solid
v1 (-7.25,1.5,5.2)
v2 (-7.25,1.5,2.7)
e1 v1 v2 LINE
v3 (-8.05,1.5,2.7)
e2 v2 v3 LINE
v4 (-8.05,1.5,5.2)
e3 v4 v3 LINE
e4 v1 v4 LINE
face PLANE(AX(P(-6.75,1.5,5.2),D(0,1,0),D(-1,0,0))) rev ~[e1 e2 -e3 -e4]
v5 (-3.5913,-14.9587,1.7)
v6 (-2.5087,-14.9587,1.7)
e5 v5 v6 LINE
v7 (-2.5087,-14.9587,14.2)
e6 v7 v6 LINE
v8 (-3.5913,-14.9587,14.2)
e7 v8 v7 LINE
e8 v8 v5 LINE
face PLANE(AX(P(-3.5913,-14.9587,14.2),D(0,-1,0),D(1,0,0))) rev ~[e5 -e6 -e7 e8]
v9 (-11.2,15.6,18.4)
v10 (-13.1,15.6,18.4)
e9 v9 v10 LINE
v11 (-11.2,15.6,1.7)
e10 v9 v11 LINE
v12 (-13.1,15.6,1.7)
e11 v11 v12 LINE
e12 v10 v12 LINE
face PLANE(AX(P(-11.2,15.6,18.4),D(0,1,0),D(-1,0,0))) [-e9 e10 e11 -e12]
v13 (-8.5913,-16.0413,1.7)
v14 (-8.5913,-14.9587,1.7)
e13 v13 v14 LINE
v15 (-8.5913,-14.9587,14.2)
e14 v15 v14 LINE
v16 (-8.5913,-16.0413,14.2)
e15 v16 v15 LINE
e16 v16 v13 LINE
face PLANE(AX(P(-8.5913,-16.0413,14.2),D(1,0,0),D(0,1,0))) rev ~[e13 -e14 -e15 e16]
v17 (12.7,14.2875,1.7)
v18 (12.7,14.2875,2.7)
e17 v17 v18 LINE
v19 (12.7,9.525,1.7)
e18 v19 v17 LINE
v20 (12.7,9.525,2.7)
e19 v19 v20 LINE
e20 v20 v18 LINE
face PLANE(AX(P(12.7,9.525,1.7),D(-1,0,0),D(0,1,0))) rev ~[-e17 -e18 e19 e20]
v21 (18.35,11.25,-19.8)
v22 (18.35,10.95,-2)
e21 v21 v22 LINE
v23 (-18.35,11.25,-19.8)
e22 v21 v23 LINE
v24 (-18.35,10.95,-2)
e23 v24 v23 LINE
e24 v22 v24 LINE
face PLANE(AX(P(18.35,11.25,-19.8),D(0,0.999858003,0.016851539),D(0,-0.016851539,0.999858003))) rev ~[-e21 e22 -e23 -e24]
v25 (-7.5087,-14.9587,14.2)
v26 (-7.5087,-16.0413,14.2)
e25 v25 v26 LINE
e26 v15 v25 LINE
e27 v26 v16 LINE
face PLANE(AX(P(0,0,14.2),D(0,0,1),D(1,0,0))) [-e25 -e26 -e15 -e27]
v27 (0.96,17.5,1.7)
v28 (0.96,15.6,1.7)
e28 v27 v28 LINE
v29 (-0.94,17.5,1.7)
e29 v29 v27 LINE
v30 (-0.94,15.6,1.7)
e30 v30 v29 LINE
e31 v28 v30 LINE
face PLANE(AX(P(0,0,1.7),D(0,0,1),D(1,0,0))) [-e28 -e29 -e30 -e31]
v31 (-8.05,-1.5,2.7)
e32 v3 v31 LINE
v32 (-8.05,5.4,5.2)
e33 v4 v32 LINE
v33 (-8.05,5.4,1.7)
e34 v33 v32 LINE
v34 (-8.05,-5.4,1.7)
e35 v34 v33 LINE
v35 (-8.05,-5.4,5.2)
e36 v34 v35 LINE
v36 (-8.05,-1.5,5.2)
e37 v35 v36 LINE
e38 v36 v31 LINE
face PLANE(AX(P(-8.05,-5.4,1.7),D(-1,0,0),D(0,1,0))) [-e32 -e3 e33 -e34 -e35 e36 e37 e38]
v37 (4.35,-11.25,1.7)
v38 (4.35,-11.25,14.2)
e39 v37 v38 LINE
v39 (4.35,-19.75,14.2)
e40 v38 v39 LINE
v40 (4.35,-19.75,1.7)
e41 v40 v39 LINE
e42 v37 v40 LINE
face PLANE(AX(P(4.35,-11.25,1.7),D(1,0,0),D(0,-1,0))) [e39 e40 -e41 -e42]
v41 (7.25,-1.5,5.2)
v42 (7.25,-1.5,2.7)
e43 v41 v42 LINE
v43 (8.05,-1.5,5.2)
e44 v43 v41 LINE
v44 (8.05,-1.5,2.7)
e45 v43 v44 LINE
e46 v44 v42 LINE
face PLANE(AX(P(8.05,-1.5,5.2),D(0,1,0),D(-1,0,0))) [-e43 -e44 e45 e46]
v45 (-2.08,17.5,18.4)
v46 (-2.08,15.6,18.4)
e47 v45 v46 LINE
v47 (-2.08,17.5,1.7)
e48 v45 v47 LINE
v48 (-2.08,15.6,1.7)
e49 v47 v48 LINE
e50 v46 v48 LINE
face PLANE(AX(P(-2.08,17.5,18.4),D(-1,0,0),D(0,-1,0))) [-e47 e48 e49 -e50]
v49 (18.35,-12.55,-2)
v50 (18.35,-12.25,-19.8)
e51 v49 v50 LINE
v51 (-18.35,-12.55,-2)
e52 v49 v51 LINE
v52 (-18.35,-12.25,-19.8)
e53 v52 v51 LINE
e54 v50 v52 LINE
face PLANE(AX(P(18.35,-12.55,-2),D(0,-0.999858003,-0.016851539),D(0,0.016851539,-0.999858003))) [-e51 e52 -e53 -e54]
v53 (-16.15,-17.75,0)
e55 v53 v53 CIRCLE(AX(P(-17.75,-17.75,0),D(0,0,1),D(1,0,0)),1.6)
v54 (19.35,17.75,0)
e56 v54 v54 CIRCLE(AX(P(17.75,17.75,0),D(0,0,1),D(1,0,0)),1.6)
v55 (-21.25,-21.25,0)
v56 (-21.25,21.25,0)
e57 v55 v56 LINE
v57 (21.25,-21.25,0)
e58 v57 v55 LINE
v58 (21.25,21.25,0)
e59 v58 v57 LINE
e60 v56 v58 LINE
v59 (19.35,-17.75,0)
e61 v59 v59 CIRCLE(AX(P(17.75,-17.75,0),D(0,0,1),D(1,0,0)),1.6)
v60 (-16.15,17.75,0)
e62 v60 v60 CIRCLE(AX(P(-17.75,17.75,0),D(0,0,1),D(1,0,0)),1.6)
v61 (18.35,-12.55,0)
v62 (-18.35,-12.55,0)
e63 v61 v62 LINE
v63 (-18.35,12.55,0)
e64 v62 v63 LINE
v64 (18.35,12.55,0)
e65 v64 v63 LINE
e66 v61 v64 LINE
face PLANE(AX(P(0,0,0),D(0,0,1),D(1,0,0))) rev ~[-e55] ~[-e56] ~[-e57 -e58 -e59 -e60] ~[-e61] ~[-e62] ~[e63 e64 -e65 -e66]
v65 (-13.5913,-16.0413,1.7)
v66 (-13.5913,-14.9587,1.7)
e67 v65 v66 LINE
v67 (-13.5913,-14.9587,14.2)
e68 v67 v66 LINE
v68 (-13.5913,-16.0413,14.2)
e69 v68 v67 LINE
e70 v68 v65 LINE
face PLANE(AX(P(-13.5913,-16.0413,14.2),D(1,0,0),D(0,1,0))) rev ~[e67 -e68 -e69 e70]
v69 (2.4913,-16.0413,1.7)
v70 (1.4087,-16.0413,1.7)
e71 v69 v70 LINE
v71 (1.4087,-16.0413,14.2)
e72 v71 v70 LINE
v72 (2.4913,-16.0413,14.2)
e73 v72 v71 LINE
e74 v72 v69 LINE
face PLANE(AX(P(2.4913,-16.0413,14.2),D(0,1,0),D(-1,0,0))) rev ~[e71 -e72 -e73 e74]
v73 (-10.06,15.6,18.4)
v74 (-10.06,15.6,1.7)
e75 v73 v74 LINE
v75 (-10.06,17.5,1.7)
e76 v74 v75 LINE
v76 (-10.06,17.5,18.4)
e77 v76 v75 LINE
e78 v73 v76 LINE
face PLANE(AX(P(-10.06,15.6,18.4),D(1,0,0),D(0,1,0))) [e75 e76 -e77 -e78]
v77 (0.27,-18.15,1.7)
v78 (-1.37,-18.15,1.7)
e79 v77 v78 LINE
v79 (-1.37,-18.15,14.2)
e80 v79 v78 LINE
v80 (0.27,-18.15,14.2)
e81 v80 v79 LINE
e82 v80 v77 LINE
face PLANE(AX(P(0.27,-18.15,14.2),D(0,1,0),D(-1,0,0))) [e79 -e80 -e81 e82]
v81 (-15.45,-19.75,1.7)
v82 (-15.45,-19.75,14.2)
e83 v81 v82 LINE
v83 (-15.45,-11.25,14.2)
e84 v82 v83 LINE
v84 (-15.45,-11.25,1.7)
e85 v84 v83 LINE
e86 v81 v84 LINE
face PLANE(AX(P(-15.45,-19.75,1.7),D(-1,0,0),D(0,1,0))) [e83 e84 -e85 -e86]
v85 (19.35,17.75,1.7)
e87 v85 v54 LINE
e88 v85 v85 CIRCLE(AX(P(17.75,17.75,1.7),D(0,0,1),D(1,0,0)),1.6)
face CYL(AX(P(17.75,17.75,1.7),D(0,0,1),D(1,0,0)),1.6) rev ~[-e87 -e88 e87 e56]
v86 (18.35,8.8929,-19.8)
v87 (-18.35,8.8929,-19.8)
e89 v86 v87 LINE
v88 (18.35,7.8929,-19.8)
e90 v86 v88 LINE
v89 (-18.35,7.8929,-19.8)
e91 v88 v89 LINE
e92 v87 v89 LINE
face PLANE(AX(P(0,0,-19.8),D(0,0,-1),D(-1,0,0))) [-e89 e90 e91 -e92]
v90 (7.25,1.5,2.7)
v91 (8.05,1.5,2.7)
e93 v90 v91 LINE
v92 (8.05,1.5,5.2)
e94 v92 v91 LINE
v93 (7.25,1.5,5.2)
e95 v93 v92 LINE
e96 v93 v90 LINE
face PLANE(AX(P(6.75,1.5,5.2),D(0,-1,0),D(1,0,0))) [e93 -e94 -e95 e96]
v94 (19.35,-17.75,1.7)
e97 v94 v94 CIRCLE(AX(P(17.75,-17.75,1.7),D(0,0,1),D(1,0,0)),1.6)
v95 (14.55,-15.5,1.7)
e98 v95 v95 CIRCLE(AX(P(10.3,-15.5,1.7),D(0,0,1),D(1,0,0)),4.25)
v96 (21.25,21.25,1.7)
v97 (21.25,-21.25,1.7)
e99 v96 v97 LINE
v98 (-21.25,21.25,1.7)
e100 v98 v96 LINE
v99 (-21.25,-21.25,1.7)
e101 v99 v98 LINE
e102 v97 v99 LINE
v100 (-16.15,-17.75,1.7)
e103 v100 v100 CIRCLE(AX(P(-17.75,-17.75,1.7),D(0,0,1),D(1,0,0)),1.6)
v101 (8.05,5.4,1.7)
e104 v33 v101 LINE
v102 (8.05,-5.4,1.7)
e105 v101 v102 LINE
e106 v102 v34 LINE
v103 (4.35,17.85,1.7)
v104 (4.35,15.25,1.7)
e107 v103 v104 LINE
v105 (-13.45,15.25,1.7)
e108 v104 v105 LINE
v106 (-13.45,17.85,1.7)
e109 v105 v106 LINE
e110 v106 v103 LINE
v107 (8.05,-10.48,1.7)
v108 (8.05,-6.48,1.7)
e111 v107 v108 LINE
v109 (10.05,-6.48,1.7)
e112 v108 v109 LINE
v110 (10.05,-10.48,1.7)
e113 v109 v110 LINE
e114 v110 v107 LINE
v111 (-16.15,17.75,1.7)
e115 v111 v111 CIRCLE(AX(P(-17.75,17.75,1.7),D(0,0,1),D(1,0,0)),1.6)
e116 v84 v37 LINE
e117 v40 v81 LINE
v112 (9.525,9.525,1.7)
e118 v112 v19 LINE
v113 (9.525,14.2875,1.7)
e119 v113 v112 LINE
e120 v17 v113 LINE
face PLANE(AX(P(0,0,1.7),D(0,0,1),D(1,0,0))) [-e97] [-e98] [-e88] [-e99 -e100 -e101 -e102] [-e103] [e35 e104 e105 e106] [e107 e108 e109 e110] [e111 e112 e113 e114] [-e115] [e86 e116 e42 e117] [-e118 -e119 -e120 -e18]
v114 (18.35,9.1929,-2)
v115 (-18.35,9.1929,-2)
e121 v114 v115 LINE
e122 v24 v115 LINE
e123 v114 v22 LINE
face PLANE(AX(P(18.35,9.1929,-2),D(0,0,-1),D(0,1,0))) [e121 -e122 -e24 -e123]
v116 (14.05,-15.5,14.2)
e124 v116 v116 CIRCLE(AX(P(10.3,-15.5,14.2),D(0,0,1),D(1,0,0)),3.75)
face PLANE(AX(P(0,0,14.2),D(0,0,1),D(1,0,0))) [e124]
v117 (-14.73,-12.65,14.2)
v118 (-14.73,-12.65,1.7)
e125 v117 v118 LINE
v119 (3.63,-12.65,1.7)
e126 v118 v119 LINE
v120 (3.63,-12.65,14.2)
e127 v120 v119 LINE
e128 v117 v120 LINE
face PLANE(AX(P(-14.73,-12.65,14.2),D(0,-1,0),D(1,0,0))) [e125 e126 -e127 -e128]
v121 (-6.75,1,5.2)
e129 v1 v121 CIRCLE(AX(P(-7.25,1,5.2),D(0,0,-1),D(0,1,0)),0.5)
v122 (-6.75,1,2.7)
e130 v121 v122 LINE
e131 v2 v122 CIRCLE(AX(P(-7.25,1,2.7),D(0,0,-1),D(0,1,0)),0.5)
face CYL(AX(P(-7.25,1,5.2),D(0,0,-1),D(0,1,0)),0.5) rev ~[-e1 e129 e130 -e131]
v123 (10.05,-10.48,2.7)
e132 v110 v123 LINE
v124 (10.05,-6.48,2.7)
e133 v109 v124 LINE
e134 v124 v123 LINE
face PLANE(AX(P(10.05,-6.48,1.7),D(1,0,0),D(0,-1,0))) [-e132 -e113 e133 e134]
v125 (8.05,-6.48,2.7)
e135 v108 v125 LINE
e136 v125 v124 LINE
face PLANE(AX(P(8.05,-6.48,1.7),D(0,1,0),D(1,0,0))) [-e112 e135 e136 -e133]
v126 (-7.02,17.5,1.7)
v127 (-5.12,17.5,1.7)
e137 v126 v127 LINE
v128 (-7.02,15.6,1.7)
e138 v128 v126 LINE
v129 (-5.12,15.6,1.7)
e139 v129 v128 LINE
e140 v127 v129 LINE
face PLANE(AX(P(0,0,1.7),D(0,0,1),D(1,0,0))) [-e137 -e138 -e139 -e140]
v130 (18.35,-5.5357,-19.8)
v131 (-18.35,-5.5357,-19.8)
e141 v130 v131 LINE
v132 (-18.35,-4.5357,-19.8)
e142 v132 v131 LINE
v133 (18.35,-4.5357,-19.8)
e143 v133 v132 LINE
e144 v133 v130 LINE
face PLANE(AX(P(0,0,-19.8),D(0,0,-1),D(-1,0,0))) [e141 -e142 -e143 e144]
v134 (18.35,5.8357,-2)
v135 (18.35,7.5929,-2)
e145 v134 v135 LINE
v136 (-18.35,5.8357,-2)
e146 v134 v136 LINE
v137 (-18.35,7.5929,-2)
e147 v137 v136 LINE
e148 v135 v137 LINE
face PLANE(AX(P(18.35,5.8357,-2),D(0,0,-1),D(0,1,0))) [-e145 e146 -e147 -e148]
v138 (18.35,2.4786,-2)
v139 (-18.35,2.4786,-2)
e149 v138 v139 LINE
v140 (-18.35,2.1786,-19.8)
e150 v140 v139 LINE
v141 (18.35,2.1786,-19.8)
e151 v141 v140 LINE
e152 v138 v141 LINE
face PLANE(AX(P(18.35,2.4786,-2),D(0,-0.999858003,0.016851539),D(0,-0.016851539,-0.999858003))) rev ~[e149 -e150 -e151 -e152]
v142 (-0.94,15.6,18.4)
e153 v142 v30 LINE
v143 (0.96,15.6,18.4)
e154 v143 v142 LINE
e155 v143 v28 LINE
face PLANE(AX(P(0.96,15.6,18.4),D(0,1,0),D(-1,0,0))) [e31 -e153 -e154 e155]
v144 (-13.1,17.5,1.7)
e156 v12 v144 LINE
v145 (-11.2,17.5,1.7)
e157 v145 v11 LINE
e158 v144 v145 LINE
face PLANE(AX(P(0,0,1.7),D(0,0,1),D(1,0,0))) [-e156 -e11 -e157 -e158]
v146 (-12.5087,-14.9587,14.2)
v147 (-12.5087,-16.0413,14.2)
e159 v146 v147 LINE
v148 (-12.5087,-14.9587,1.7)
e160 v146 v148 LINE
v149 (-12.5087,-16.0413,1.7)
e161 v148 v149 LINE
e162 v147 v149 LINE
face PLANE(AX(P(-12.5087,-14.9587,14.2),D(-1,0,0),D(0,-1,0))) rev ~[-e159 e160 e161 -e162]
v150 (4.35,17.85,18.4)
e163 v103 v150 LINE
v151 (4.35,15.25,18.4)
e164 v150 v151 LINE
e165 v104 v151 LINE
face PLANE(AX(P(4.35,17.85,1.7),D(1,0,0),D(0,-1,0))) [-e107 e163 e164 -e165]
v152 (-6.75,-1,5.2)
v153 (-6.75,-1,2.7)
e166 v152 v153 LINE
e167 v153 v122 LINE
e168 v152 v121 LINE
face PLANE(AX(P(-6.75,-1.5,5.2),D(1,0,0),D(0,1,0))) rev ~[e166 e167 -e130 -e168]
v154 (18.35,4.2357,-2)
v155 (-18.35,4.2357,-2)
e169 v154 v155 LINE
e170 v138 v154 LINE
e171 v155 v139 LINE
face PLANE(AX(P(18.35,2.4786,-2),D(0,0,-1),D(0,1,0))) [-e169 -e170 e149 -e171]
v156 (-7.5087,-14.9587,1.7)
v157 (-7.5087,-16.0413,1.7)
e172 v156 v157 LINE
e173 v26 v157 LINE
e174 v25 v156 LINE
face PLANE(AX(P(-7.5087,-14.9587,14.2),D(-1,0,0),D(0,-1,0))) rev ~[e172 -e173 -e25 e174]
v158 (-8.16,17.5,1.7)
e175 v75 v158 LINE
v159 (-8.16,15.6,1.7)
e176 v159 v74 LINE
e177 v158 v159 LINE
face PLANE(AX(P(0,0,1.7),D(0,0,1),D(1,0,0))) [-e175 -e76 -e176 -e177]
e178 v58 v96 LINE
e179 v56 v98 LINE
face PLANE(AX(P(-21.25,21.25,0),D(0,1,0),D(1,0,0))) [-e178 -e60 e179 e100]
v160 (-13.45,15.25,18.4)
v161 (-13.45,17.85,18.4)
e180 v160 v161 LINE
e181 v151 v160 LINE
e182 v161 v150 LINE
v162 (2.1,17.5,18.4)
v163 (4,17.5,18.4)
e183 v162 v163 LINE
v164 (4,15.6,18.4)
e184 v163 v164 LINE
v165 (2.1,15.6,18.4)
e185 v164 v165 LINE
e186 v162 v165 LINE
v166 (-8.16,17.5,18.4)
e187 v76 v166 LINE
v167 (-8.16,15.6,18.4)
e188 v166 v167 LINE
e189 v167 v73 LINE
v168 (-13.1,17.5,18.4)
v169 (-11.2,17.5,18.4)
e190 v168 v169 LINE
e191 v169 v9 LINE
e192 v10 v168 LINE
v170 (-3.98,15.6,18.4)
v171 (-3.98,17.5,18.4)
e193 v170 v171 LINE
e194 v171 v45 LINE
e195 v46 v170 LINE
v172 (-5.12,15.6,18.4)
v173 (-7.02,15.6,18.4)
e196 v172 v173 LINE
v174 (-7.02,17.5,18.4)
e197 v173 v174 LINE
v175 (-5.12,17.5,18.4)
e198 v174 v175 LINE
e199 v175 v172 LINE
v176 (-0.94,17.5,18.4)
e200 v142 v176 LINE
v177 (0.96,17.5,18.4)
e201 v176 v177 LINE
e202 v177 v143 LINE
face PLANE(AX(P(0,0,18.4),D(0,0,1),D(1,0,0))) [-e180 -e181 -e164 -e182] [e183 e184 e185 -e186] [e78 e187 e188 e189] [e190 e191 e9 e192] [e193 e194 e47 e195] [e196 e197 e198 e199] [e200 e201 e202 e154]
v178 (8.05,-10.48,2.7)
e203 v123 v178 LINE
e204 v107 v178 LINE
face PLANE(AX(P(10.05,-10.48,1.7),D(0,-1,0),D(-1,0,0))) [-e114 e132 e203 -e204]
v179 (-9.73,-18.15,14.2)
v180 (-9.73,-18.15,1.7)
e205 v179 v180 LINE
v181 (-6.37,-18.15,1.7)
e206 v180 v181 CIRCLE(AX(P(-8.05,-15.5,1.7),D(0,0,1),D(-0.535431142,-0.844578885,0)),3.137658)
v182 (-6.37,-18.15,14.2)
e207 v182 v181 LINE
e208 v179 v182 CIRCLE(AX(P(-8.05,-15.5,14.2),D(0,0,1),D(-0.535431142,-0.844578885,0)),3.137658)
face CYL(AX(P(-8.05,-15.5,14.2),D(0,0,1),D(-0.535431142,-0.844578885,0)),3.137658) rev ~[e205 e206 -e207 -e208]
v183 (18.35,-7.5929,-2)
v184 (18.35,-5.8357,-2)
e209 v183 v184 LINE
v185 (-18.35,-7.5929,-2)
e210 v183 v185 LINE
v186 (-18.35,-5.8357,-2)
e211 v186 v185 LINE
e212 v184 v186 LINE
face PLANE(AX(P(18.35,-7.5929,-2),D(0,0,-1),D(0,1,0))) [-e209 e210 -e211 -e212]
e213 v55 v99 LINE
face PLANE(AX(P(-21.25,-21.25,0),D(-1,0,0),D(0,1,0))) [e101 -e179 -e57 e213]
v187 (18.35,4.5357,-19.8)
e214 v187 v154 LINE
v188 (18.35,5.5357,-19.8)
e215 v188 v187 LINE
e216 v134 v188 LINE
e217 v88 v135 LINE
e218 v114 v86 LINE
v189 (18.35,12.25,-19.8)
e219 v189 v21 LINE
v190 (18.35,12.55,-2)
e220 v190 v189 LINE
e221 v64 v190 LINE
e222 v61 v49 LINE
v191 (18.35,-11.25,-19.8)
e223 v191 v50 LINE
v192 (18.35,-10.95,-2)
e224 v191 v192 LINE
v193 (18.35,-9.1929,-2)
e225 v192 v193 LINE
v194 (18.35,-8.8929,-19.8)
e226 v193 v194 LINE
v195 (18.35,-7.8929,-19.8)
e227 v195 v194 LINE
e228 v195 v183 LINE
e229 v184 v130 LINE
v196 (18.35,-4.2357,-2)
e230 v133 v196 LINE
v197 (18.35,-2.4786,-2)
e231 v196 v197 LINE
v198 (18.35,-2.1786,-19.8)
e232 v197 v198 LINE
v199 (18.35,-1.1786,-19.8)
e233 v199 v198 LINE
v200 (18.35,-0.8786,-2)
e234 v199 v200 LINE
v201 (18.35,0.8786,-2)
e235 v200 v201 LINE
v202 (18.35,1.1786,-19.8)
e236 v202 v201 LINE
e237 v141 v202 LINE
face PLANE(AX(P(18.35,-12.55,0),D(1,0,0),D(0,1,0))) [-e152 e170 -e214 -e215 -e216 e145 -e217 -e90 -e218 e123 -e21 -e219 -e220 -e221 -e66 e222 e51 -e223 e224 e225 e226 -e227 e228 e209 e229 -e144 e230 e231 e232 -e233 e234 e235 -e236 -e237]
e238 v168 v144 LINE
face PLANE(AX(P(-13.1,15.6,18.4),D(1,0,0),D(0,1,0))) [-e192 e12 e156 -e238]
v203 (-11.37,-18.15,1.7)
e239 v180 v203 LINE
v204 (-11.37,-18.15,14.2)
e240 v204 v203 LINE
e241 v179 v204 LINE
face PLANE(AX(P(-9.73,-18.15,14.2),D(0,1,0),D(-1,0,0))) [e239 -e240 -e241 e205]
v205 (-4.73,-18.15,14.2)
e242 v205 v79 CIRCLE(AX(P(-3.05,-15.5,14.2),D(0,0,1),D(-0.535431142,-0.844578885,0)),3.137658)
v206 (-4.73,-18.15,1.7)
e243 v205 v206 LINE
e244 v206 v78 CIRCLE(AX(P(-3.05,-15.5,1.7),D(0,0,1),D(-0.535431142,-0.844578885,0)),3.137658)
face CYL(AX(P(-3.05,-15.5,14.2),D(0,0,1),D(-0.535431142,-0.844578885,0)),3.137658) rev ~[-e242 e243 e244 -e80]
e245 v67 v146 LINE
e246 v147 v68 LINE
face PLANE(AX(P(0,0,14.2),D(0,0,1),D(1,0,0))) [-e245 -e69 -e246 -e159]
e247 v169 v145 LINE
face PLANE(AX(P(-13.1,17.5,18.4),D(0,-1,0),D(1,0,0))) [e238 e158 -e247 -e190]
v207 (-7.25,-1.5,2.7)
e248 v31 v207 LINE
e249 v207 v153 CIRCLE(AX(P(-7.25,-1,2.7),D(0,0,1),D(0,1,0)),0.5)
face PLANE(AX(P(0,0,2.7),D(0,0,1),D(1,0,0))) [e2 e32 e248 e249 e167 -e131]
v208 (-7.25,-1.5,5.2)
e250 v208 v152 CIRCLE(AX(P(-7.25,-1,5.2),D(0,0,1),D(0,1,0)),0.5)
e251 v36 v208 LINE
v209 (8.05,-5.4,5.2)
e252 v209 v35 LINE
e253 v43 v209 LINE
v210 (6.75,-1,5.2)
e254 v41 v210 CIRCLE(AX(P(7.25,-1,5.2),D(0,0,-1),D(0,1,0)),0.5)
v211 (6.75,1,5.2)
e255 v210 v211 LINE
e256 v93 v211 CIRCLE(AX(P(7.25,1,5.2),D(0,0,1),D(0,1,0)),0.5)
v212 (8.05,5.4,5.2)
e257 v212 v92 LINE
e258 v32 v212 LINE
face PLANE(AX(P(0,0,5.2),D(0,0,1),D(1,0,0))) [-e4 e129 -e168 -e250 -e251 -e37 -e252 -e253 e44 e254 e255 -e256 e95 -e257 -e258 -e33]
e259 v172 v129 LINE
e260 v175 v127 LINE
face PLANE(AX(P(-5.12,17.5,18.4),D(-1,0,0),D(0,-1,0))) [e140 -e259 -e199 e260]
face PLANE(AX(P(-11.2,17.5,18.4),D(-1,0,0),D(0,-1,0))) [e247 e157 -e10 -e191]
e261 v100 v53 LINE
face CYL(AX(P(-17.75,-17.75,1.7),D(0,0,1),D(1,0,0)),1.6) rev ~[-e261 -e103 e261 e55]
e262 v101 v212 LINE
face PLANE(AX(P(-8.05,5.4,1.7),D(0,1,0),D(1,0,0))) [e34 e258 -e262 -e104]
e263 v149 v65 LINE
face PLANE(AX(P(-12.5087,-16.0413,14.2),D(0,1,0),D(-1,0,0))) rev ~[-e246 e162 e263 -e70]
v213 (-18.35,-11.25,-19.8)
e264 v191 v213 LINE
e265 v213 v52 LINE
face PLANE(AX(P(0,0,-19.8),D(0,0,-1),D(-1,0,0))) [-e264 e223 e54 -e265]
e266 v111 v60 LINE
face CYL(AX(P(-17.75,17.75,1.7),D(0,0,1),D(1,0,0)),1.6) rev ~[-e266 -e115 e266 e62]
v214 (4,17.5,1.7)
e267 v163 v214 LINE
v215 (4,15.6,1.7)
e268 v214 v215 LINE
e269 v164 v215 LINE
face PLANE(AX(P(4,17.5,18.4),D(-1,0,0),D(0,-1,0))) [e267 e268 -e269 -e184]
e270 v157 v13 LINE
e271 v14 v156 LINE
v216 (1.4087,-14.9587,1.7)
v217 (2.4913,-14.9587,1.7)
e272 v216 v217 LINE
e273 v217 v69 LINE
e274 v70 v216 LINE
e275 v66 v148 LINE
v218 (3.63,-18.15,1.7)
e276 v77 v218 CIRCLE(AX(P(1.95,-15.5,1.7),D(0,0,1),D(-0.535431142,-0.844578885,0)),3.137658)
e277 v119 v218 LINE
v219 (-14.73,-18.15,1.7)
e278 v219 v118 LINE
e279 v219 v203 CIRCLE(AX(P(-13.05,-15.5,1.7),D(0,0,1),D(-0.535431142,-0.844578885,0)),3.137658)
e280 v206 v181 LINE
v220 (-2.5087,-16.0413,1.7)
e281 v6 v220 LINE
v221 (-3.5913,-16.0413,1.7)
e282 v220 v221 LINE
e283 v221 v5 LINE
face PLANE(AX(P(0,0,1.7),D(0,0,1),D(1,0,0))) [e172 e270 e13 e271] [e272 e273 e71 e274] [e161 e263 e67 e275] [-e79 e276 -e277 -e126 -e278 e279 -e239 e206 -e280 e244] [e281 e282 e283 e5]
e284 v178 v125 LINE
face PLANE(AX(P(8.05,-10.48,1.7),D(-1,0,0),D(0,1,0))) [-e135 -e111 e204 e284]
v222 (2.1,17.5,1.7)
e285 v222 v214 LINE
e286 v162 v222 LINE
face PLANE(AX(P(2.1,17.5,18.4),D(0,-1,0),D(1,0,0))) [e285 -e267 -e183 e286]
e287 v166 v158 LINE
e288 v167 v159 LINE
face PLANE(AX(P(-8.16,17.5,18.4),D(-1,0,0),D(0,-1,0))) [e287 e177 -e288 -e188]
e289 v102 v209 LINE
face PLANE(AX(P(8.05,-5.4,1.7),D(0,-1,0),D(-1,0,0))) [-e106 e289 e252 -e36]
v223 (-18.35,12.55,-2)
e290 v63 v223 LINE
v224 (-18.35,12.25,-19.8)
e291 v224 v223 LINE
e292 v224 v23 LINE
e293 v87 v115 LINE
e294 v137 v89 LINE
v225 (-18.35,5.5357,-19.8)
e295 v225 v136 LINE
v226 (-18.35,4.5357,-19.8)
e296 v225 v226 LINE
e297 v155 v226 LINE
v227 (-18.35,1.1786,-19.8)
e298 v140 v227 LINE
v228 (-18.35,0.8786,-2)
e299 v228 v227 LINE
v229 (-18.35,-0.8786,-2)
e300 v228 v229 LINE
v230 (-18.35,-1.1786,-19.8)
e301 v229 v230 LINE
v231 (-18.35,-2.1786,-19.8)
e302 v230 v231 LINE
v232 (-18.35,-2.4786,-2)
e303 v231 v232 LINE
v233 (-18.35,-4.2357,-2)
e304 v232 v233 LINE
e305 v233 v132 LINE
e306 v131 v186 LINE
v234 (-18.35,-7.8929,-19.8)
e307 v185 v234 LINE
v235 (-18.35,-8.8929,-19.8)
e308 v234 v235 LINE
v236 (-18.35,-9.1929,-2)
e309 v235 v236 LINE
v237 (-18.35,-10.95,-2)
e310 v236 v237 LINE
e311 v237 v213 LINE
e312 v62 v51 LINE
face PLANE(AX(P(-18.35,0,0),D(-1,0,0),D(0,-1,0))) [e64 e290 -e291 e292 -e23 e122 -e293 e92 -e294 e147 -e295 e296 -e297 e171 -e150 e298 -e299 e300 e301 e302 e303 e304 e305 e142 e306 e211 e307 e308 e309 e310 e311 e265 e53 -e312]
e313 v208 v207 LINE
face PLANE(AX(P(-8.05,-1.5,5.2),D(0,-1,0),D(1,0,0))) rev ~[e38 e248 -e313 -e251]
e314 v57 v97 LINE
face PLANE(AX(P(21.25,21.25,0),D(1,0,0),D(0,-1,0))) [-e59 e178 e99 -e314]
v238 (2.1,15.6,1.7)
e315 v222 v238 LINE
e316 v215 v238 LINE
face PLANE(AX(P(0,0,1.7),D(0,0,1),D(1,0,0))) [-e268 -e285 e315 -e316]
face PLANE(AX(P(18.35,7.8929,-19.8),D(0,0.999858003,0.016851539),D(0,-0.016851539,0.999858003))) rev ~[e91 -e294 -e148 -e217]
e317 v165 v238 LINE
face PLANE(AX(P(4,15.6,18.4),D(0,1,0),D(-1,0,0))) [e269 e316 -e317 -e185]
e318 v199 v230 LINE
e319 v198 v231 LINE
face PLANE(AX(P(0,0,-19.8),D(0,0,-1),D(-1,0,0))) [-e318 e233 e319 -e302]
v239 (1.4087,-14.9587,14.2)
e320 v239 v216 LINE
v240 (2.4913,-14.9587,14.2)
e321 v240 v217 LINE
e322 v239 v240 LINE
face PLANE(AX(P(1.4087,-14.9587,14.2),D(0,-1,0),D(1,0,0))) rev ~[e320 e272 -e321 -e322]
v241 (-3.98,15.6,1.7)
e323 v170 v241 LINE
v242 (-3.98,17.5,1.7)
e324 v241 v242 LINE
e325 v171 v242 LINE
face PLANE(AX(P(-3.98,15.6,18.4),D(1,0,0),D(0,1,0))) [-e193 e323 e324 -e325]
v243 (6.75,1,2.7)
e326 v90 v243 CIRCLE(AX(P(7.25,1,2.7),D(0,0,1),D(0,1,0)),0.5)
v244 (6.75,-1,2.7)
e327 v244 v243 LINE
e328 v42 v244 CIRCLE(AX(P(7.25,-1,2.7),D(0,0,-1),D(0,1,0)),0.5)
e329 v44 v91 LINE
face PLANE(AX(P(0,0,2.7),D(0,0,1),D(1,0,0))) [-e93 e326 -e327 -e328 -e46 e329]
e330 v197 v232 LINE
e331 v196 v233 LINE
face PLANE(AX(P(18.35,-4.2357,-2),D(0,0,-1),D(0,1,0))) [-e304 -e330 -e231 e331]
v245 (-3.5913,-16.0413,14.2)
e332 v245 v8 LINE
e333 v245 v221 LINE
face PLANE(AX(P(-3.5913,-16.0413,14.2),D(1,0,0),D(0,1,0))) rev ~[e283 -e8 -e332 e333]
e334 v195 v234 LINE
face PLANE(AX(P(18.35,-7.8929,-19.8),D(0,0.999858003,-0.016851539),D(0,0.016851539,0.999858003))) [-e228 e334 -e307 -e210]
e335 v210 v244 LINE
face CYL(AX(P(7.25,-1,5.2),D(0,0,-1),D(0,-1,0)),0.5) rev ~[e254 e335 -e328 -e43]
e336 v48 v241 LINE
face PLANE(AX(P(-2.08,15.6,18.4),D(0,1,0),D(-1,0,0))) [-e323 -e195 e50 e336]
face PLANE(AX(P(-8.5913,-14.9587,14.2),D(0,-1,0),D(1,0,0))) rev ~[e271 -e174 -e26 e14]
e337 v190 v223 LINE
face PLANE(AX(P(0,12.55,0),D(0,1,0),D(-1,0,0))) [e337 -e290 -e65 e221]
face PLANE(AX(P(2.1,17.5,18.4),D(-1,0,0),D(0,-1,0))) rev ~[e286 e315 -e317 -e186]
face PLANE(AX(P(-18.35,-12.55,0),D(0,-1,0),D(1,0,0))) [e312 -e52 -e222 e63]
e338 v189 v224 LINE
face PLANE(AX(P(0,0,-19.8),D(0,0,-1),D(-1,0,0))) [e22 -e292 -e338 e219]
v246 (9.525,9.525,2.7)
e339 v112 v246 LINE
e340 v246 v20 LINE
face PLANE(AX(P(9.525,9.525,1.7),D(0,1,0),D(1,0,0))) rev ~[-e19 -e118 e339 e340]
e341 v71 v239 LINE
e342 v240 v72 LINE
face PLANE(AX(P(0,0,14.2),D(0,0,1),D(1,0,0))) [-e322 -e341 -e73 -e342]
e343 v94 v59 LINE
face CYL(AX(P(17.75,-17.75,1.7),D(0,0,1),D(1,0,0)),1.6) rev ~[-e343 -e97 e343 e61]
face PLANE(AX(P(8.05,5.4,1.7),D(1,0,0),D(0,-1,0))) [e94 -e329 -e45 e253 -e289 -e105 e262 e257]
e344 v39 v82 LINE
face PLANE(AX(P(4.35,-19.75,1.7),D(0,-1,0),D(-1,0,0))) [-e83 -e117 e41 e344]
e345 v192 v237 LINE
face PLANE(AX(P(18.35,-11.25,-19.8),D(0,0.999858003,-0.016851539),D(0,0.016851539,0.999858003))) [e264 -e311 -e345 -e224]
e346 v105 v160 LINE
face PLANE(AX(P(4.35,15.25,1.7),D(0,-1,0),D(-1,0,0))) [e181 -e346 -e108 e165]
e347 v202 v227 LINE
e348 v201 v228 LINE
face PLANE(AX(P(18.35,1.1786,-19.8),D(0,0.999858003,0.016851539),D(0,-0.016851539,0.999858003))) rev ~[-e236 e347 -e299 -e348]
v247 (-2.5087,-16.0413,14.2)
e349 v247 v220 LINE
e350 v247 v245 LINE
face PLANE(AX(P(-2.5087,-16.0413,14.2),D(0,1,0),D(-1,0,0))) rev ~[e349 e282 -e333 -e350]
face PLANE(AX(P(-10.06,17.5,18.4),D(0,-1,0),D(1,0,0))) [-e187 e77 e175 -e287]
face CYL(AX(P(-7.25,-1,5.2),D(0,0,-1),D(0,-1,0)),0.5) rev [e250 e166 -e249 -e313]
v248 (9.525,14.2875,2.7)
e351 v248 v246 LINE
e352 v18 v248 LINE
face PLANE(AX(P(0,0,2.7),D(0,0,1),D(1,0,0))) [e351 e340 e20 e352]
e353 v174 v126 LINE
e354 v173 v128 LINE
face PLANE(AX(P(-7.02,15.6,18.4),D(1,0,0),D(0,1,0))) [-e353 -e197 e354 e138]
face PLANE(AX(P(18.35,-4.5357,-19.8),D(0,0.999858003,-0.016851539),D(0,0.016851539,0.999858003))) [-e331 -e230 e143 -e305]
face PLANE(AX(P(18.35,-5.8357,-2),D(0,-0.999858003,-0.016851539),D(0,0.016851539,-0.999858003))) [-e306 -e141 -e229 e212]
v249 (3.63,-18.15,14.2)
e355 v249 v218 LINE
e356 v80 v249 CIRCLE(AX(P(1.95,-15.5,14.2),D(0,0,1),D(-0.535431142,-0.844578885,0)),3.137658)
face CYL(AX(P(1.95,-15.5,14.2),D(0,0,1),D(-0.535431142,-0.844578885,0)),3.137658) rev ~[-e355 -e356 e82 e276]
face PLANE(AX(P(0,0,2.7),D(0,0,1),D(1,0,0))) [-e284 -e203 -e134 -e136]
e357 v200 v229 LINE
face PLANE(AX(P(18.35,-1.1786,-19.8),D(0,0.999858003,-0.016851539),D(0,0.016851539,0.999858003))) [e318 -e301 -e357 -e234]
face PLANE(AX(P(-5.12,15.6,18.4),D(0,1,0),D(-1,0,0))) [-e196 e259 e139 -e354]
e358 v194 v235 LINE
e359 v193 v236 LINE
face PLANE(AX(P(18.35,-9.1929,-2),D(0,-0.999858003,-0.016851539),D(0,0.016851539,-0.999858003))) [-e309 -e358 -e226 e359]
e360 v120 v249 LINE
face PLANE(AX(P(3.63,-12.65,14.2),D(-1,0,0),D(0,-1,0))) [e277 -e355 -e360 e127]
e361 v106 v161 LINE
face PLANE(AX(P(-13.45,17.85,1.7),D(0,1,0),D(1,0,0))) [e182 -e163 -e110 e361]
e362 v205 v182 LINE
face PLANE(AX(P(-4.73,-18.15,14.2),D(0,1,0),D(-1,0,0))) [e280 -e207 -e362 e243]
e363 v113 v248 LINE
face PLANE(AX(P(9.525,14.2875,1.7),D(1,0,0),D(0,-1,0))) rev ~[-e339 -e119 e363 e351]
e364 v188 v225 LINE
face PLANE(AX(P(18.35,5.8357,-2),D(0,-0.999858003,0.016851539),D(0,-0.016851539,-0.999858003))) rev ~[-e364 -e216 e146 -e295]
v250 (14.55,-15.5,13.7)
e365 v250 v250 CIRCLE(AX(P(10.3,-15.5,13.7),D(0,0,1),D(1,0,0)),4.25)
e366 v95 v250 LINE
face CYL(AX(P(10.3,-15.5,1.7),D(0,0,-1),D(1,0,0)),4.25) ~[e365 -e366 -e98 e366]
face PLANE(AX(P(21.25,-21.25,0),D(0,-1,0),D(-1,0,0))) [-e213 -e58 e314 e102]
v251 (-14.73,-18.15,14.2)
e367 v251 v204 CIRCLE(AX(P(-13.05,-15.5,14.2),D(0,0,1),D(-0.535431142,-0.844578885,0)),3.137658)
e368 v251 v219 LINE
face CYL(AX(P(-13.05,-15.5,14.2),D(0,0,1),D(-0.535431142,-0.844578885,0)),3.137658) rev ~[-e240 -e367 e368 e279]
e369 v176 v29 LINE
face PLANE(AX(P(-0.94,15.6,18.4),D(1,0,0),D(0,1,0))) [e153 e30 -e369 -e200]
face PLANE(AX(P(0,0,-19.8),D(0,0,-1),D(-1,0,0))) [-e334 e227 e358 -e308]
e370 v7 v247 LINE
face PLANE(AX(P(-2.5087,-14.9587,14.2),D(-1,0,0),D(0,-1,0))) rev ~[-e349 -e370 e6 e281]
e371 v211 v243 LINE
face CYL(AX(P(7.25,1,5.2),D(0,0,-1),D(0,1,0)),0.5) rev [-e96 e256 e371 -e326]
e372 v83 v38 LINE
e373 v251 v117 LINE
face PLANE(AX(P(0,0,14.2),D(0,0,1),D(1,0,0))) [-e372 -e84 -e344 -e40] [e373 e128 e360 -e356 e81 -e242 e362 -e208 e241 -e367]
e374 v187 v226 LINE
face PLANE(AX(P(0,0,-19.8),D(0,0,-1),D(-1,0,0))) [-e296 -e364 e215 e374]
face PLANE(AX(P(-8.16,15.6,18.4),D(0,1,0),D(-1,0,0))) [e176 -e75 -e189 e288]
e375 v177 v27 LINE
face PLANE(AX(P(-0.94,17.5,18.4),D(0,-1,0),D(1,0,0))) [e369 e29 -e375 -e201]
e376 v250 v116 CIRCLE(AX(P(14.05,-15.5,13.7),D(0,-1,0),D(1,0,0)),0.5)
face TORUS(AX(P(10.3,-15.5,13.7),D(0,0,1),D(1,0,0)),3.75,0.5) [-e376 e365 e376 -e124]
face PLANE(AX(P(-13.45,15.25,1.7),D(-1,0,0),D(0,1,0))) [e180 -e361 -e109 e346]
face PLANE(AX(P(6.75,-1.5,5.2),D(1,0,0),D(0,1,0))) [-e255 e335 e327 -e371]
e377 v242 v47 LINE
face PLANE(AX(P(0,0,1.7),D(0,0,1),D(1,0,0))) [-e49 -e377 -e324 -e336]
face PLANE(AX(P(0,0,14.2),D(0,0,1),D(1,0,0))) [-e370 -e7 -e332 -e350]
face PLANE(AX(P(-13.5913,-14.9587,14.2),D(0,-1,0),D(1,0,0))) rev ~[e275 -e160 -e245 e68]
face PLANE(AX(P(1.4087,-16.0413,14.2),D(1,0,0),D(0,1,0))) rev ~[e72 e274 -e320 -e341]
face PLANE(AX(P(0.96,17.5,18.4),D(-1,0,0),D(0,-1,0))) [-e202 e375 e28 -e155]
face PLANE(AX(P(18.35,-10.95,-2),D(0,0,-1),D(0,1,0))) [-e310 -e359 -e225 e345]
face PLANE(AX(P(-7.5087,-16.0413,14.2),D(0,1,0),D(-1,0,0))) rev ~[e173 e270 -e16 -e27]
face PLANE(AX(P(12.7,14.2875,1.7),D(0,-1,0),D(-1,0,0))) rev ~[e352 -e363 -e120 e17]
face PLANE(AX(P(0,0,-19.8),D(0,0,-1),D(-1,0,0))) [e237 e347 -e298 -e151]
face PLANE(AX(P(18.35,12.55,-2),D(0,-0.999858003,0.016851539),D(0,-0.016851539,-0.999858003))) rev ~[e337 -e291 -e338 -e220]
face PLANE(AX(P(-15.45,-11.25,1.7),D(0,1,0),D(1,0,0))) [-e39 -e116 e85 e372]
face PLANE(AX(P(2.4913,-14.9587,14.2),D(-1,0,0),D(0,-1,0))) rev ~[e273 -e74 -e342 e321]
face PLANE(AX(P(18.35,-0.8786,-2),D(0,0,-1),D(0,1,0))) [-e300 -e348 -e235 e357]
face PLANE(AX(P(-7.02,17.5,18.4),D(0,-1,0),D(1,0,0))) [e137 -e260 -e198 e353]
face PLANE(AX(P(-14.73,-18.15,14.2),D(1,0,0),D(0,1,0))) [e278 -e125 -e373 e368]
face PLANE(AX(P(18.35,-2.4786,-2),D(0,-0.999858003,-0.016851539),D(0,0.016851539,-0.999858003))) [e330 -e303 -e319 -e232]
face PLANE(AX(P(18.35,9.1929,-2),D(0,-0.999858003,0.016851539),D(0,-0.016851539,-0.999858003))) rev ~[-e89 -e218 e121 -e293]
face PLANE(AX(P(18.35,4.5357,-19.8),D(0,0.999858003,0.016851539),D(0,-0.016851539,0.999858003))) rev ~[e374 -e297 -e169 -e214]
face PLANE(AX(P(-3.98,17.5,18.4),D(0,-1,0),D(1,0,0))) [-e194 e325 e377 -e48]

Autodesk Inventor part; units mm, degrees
ref_plane "YZ Plane" through (0, 0, 0) normal (1, 0, 0) x (0, 1, 0)
ref_plane "XZ Plane" through (0, 0, 0) normal (0, 1, 0) x (-1, 0, 0)
ref_plane "XY Plane" through (0, 0, 0) normal (0, 0, 1) x (1, 0, 0)
sketch "Sketch1" plane through (0, 0, 0) normal (0, 0, 1) x (1, 0, 0)
  line L0 (-21.25, 21.25) -> (21.25, 21.25)
  line L1 (21.25, 21.25) -> (21.25, -21.25)
  line L2 (21.25, -21.25) -> (-21.25, -21.25)
  line L3 (-21.25, -21.25) -> (-21.25, 21.25)
  line L4 (-29.75, 0) -> (29.75, 0) construction
  line L5 (0, -29.75) -> (0, 29.75) construction
  point P0 (0, 0)
  point P1 (0, 21.25)
  point P2 (-21.25, 0)
  dimension "d0" = 42.5
extrude "Extrusion1" add sketch "Sketch1" along normal blind 1.7
sketch "Sketch2" plane through (0, 0, 1.7) normal (0, 0, 1) x (1, 0, 0)
  circle A0 centre (-17.75, 17.75) radius 3.5 construction
  line L0 (21.25, 21.25) -> (-21.25, 21.25) construction
  line L1 (-21.25, 21.25) -> (-21.25, -21.25) construction
  circle A1 centre (-17.75, 17.75) radius 1.6
  line L2 (-17.75, 19.35) -> (-17.75, 21.25) construction
  line L3 (-19.35, 17.75) -> (-21.25, 17.75) construction
  line L4 (-29.75, 0) -> (29.75, 0) construction
  line L5 (0, -29.75) -> (0, 29.75) construction
  circle A2 centre (17.75, 17.75) radius 1.6
  circle A3 centre (-17.75, -17.75) radius 1.6
  circle A4 centre (17.75, -17.75) radius 1.6
  point P0 (0, 0)
  dimension "d3" = 1.9
  dimension "d4" = 3.2
extrude "Extrusion2" cut sketch "Sketch2" against normal blind 1.7
sketch "Sketch3" plane through (0, 0, 1.7) normal (0, 0, 1) x (1, 0, 0)
  line L0 (-21.25, 21.25) -> (-21.25, -21.25) construction
  line L1 (-21.25, 0) -> (21.25, 0) construction
  line L2 (21.25, -21.25) -> (21.25, 21.25) construction
  line L3 (-8.05, 5.4) -> (8.05, 5.4)
  line L4 (8.05, 5.4) -> (8.05, -5.4)
  line L5 (8.05, -5.4) -> (-8.05, -5.4)
  line L6 (-8.05, -5.4) -> (-8.05, 5.4)
  line L7 (0, -29.75) -> (0, 29.75) construction
  point P0 (0, 0)
  point P1 (-8.05, 0)
  point P2 (0, 5.4)
  dimension "d7" = 16.1
  dimension "d8" = 10.8
extrude "Extrusion3" add sketch "Sketch3" along normal blind 3.5
sketch "Sketch4" plane through (0, 0, 5.2) normal (0, 0, 1) x (1, 0, 0)
  line L0 (-8.05, -5.4) -> (8.05, -5.4) projected
  line L1 (8.05, -5.4) -> (8.05, 5.4) projected
  line L2 (8.05, 5.4) -> (-8.05, 5.4) projected
  line L3 (-8.05, 5.4) -> (-8.05, -5.4) projected
  line L4 (6.75, 1.5) -> (8.05, 1.5)
  line L5 (8.05, 1.5) -> (8.05, -1.5)
  line L6 (8.05, -1.5) -> (6.75, -1.5)
  line L7 (6.75, -1.5) -> (6.75, 1.5)
  line L8 (0, -29.75) -> (0, 29.75) construction
  line L9 (-6.75, 1.5) -> (-8.05, 1.5)
  line L10 (-8.05, 1.5) -> (-8.05, -1.5)
  line L11 (-8.05, -1.5) -> (-6.75, -1.5)
  line L12 (-6.75, -1.5) -> (-6.75, 1.5)
  point P0 (0, 0)
  point P1 (8.05, 0)
  dimension "d11" = 3
  dimension "d12" = 1.3
extrude "Extrusion4" cut sketch "Sketch4" against normal blind 2.5 contours L3 L9 L12 L11 | L6 L7 L4 L1
fillet "Fillet1" radius 0.5 4 edges at (6.75, 1.5, 3.95) (6.75, -1.5, 3.95) (-6.75, 1.5, 3.95) (-6.75, -1.5, 3.95)
sketch "Sketch5" plane through (0, 0, 1.7) normal (0, 0, 1) x (1, 0, 0)
  circle A0 centre (10.3, -15.5) radius 4.25
  line L0 (-15.45, -11.25) -> (4.35, -11.25)
  line L1 (4.35, -11.25) -> (4.35, -19.75)
  line L2 (4.35, -19.75) -> (-15.45, -19.75)
  line L3 (-15.45, -19.75) -> (-15.45, -11.25)
  line L4 (-13.45, 17.85) -> (4.35, 17.85)
  line L5 (4.35, 17.85) -> (4.35, 15.25)
  line L6 (4.35, 15.25) -> (-13.45, 15.25)
  line L7 (-13.45, 15.25) -> (-13.45, 17.85)
  line L8 (21.25, 21.25) -> (-21.25, 21.25) projected
  line L9 (-21.25, 21.25) -> (-21.25, -21.25) projected
  line L10 (-15.45, -15.5) -> (14.55, -15.5) construction
  line L11 (4.35, -11.25) -> (10.3, -11.25) construction
  line L12 (-21.25, -21.25) -> (21.25, -21.25) construction
  line L13 (21.25, -21.25) -> (21.25, 21.25) projected
  point P0 (0, 0)
  point P1 (-13.45, 16.55)
  dimension "d16" = 17.8
  dimension "d17" = 2.6
  dimension "d18" = 7.8
  dimension "d19" = 3.4
  dimension "d20" = 30
  dimension "d21" = 8.5
  dimension "d22" = 1.5
  dimension "d23" = 6.7
extrude "Extrusion5" add sketch "Sketch5" along normal blind 12.5 contours A0 | L0 L1 L2 L3
extrude "Extrusion6" add sketch "Sketch5" along normal blind 16.7 contours L4 L5 L6 L7
sketch "Sketch6" plane through (0, 0, 14.2) normal (0, 0, 1) x (1, 0, 0)
  line L0 (-15.45, -19.75) -> (-15.45, -11.25) construction
  line L1 (-15.45, -15.5) -> (4.35, -15.5) construction
  line L2 (4.35, -11.25) -> (4.35, -19.75) construction
  line L3 (-13.5913, -14.9587) -> (-12.5087, -14.9587)
  line L4 (-12.5087, -14.9587) -> (-12.5087, -16.0413)
  line L5 (-12.5087, -16.0413) -> (-13.5913, -16.0413)
  line L6 (-13.5913, -16.0413) -> (-13.5913, -14.9587)
  line L7 (-7.5087, -14.9587) -> (-7.5087, -16.0413)
  line L8 (-8.5913, -14.9587) -> (-7.5087, -14.9587)
  line L9 (-8.5913, -16.0413) -> (-8.5913, -14.9587)
  line L10 (-7.5087, -16.0413) -> (-8.5913, -16.0413)
  line L11 (-2.5087, -14.9587) -> (-2.5087, -16.0413)
  line L12 (-3.5913, -14.9587) -> (-2.5087, -14.9587)
  line L13 (-3.5913, -16.0413) -> (-3.5913, -14.9587)
  line L14 (-2.5087, -16.0413) -> (-3.5913, -16.0413)
  line L15 (2.4913, -14.9587) -> (2.4913, -16.0413)
  line L16 (1.4087, -14.9587) -> (2.4913, -14.9587)
  line L17 (1.4087, -16.0413) -> (1.4087, -14.9587)
  line L18 (2.4913, -16.0413) -> (1.4087, -16.0413)
  line L19 (-14.73, -12.65) -> (3.63, -12.65)
  line L20 (3.63, -12.65) -> (3.63, -18.15)
  line L21 (3.63, -18.15) -> (-14.73, -18.15)
  line L22 (-14.73, -18.15) -> (-14.73, -12.65)
  line L23 (4.35, -11.25) -> (-15.45, -11.25) construction
  line L24 (-15.45, -19.75) -> (4.35, -19.75) construction
  line L25 (-5.55, -12.65) -> (-5.55, -18.15) construction
  line L26 (-10.55, -18.15) -> (-10.55, -12.65) construction
  line L27 (-0.55, -18.15) -> (-0.55, -12.65) construction
  line L28 (-13.5913, -14.9587) -> (-12.5087, -16.0413) construction
  circle A0 centre (-13.05, -15.5) radius 3.1377 construction
  line L29 (-11.37, -18.15) -> (-11.37, -19.75) construction
  line L30 (4.35, -19.75) -> (-15.45, -19.75) projected
  arc A1 (-14.73, -18.15) -> (-11.37, -18.15) centre (-13.05, -15.5) ccw
  arc A2 (-9.73, -18.15) -> (-6.37, -18.15) centre (-8.05, -15.5) ccw
  arc A3 (-4.73, -18.15) -> (-1.37, -18.15) centre (-3.05, -15.5) ccw
  arc A4 (0.27, -18.15) -> (3.63, -18.15) centre (1.95, -15.5) ccw
  point P0 (0, 0)
  point P1 (-13.5913, -15.5)
  point P2 (-8.5913, -15.5)
  point P3 (-3.5913, -15.5)
  point P4 (1.4087, -15.5)
  point P5 (-9.73, -18.15)
  point P6 (-1.37, -18.15)
  point P7 (0.27, -18.15)
  dimension "d30" = 5
  dimension "d35" = 1.8587
  dimension "d36" = 1.8587
  dimension "d37" = 1.4
  dimension "d38" = 0.72
  dimension "d39" = 1.6
  dimension "d40" = 0.72
  dimension "d41" = 4.18
  dimension "d43" = 1.9587
  dimension "d44" = 1.9587
extrude "Extrusion7" cut sketch "Sketch6" against normal up to surface (12.5 mm away)
fillet "Fillet2" radius 0.5 1 edges at (6.05, -15.5, 14.2)
sketch "Sketch7" plane through (0, 0, 18.4) normal (0, 0, 1) x (1, 0, 0)
  line L0 (-13.45, 15.25) -> (4.35, 15.25) projected
  line L1 (4.35, 15.25) -> (4.35, 17.85) projected
  line L2 (4.35, 17.85) -> (-13.45, 17.85) projected
  line L3 (-13.45, 17.85) -> (-13.45, 15.25) projected
  line L4 (-13.1, 17.5) -> (4, 17.5)
  line L5 (4, 17.5) -> (4, 15.6)
  line L6 (4, 15.6) -> (-13.1, 15.6)
  line L7 (-13.1, 15.6) -> (-13.1, 17.5)
  line L8 (-11.2, 17.5) -> (-11.2, 15.6)
  line L9 (4.35, 15.25) -> (-13.45, 15.25) projected
  line L10 (-4.55, 15.25) -> (-4.55, 17.85) construction
  line L11 (-13.45, 17.85) -> (4.35, 17.85) projected
  line L12 (2.1, 17.5) -> (2.1, 15.6)
  line L13 (-11.2, 16.55) -> (2.1, 16.55) construction
  line L14 (-10.06, 17.5) -> (-8.16, 17.5)
  line L15 (-8.16, 17.5) -> (-8.16, 15.6)
  line L16 (-8.16, 15.6) -> (-10.06, 15.6)
  line L17 (-10.06, 15.6) -> (-10.06, 17.5)
  line L18 (-7.02, 17.5) -> (-5.12, 17.5)
  line L19 (-5.12, 17.5) -> (-5.12, 15.6)
  line L20 (-5.12, 15.6) -> (-7.02, 15.6)
  line L21 (-7.02, 15.6) -> (-7.02, 17.5)
  line L22 (-3.98, 17.5) -> (-2.08, 17.5)
  line L23 (-2.08, 17.5) -> (-2.08, 15.6)
  line L24 (-2.08, 15.6) -> (-3.98, 15.6)
  line L25 (-3.98, 15.6) -> (-3.98, 17.5)
  line L26 (-0.94, 17.5) -> (0.96, 17.5)
  line L27 (0.96, 17.5) -> (0.96, 15.6)
  line L28 (0.96, 15.6) -> (-0.94, 15.6)
  line L29 (-0.94, 15.6) -> (-0.94, 17.5)
  point P0 (0, 0)
  point P1 (0.96, 17.5)
  dimension "d49" = 0.35
  dimension "d50" = 1.9
  dimension "d51" = 1.9
  dimension "d52" = 1.9
  dimension "d53" = 1.14
  dimension "d54" = 1.14
  dimension "d55" = 1.14
  dimension "d56" = 1.14
  dimension "d57" = 1.14
extrude "Extrusion8" cut sketch "Sketch7" against normal up to surface (16.7 mm away) contours L4 L8 L6 L7 | L4 L15 L6 L17 | L4 L19 L6 L21 | L4 L23 L6 L25 | L4 L27 L6 L29 | L4 L5 L6 L12
sketch "Sketch8" plane through (0, 0, 1.7) normal (0, 0, 1) x (1, 0, 0)
  line L0 (9.525, 9.525) -> (12.7, 9.525)
  line L1 (12.7, 9.525) -> (12.7, 14.2875)
  line L2 (12.7, 14.2875) -> (9.525, 14.2875)
  line L3 (9.525, 14.2875) -> (9.525, 9.525)
  point P0 (0, 0)
  dimension "d60" = 3.175
  dimension "d61" = 4.7625
  dimension "d62" = 12.7
  dimension "d63" = 14.2875
extrude "Extrusion9" add sketch "Sketch8" along normal blind 1
sketch "Sketch9" plane through (0, 0, 0) normal (0, 0, -1) x (-1, 0, 0)
  line L0 (18.35, -12.55) -> (-18.35, -12.55)
  line L1 (-18.35, -12.55) -> (-18.35, 12.55)
  line L2 (-18.35, 12.55) -> (18.35, 12.55)
  line L3 (18.35, 12.55) -> (18.35, -12.55)
  line L4 (29.75, 0) -> (-29.75, 0) projected
  line L5 (0, -29.75) -> (0, 29.75) projected
  point P0 (0, 0)
  point P1 (0, -12.55)
  point P2 (18.35, 0)
  dimension "d66" = 25.1
  dimension "d67" = 36.7
extrude "Extrusion10" add sketch "Sketch9" along normal blind 19.8
sketch "Sketch11" plane through (0, 0, 1.7) normal (0, 0, 1) x (1, 0, 0)
  line L0 (8.05, -6.48) -> (10.05, -6.48)
  line L1 (10.05, -6.48) -> (10.05, -10.48)
  line L2 (10.05, -10.48) -> (8.05, -10.48)
  line L3 (8.05, -10.48) -> (8.05, -6.48)
  line L4 (21.25, -21.25) -> (21.25, 21.25) projected
  line L5 (-21.25, -21.25) -> (21.25, -21.25) projected
  point P0 (0, 0)
  point P1 (10.05, -8.48)
  dimension "d79" = 2
  dimension "d80" = 4
  dimension "d81" = 11.2
  dimension "d82" = 10.77
extrude "LedFeature" add sketch "Sketch11" along normal blind 1
sketch "Sketch12" plane through (18.35, -12.55, 0) normal (1, 0, 0) x (0, 0, -1)
  line L0 (0, -8.7) -> (0, 33.8) projected
  line L1 (0, 0) -> (19.8, 0) projected
  line L2 (2, 0) -> (2, 25.1)
  line L3 (0, 25.1) -> (19.8, 25.1) projected
  line L4 (2, 0) -> (19.8, 0.3)
  line L5 (19.8, 25.1) -> (19.8, 0) projected
  line L6 (19.8, 0.3) -> (19.8, 1.3)
  line L7 (19.8, 1.3) -> (2, 1.6)
  line L8 (19.8, 0.8) -> (2, 0.8) construction
  line L9 (2, 12.55) -> (19.8, 12.55) construction
  line L10 (2, 25.1) -> (19.8, 24.8)
  line L11 (19.8, 24.8) -> (19.8, 23.8)
  line L12 (19.8, 23.8) -> (2, 23.5)
  line L13 (2, 3.3571) -> (19.8, 3.6571)
  line L14 (19.8, 3.6571) -> (19.8, 4.6571)
  line L15 (19.8, 4.6571) -> (2, 4.9571)
  line L16 (19.8, 4.1571) -> (2, 4.1571) construction
  line L17 (2, 6.7143) -> (19.8, 7.0143)
  line L18 (19.8, 7.0143) -> (19.8, 8.0143)
  line L19 (19.8, 8.0143) -> (2, 8.3143)
  line L20 (19.8, 7.5143) -> (2, 7.5143) construction
  line L21 (2, 10.0714) -> (19.8, 10.3714)
  line L22 (19.8, 10.3714) -> (19.8, 11.3714)
  line L23 (19.8, 11.3714) -> (2, 11.6714)
  line L24 (19.8, 10.8714) -> (2, 10.8714) construction
  line L25 (2, 21.7429) -> (19.8, 21.4429)
  line L26 (19.8, 20.4429) -> (2, 20.1429)
  line L27 (2, 18.3857) -> (19.8, 18.0857)
  line L28 (19.8, 17.0857) -> (2, 16.7857)
  line L29 (2, 15.0286) -> (19.8, 14.7286)
  line L30 (19.8, 13.7286) -> (2, 13.4286)
  point P0 (0, 12.55)
  point P1 (2, 23.5)
  point P2 (2, 20.1429)
  point P3 (2, 16.7857)
  point P4 (2, 13.4286)
  dimension "d85" = 2
  dimension "d86" = 1.6
  dimension "d87" = 1
  dimension "d88" = 1.7571
  dimension "d89" = 1.7571
  dimension "d90" = 1.7571
  dimension "d91" = 0.8786
  dimension "d92" = 90.966
  dimension "d93" = 90.966
  dimension "d94" = 90.966
  dimension "d95" = 90.966
  dimension "d96" = 90.966
  dimension "d97" = 90.966
extrude "Extrusion13" cut sketch "Sketch12" against normal through all contours L4 L5 L1 | L3 L5 L10 | L2 L13 L5 L7 | L12 L5 L25 L2 | L2 L17 L5 L15 | L26 L5 L27 L2 | L2 L21 L5 L19 | L28 L5 L29 L2 | L2 L30 L5 L23
equation "\"d36\" = d35"
equation "\"d40\" = d38"
equation "\"d44\" = d43"
equation "\"d51\" = d50"
equation "\"d52\" = d51"
equation "\"d54\" = d53"
equation "\"d55\" = d53"
equation "\"d56\" = d53"
equation "\"d57\" = d53"
equation "\"d89\" = d88"
equation "\"d90\" = d88"
equation "\"d91\" = 0.5 * d88"
equation "\"d93\" = d92"
equation "\"d95\" = d92"
equation "\"d96\" = d92"
equation "\"d97\" = d92"
properties part number "IBTMini"
